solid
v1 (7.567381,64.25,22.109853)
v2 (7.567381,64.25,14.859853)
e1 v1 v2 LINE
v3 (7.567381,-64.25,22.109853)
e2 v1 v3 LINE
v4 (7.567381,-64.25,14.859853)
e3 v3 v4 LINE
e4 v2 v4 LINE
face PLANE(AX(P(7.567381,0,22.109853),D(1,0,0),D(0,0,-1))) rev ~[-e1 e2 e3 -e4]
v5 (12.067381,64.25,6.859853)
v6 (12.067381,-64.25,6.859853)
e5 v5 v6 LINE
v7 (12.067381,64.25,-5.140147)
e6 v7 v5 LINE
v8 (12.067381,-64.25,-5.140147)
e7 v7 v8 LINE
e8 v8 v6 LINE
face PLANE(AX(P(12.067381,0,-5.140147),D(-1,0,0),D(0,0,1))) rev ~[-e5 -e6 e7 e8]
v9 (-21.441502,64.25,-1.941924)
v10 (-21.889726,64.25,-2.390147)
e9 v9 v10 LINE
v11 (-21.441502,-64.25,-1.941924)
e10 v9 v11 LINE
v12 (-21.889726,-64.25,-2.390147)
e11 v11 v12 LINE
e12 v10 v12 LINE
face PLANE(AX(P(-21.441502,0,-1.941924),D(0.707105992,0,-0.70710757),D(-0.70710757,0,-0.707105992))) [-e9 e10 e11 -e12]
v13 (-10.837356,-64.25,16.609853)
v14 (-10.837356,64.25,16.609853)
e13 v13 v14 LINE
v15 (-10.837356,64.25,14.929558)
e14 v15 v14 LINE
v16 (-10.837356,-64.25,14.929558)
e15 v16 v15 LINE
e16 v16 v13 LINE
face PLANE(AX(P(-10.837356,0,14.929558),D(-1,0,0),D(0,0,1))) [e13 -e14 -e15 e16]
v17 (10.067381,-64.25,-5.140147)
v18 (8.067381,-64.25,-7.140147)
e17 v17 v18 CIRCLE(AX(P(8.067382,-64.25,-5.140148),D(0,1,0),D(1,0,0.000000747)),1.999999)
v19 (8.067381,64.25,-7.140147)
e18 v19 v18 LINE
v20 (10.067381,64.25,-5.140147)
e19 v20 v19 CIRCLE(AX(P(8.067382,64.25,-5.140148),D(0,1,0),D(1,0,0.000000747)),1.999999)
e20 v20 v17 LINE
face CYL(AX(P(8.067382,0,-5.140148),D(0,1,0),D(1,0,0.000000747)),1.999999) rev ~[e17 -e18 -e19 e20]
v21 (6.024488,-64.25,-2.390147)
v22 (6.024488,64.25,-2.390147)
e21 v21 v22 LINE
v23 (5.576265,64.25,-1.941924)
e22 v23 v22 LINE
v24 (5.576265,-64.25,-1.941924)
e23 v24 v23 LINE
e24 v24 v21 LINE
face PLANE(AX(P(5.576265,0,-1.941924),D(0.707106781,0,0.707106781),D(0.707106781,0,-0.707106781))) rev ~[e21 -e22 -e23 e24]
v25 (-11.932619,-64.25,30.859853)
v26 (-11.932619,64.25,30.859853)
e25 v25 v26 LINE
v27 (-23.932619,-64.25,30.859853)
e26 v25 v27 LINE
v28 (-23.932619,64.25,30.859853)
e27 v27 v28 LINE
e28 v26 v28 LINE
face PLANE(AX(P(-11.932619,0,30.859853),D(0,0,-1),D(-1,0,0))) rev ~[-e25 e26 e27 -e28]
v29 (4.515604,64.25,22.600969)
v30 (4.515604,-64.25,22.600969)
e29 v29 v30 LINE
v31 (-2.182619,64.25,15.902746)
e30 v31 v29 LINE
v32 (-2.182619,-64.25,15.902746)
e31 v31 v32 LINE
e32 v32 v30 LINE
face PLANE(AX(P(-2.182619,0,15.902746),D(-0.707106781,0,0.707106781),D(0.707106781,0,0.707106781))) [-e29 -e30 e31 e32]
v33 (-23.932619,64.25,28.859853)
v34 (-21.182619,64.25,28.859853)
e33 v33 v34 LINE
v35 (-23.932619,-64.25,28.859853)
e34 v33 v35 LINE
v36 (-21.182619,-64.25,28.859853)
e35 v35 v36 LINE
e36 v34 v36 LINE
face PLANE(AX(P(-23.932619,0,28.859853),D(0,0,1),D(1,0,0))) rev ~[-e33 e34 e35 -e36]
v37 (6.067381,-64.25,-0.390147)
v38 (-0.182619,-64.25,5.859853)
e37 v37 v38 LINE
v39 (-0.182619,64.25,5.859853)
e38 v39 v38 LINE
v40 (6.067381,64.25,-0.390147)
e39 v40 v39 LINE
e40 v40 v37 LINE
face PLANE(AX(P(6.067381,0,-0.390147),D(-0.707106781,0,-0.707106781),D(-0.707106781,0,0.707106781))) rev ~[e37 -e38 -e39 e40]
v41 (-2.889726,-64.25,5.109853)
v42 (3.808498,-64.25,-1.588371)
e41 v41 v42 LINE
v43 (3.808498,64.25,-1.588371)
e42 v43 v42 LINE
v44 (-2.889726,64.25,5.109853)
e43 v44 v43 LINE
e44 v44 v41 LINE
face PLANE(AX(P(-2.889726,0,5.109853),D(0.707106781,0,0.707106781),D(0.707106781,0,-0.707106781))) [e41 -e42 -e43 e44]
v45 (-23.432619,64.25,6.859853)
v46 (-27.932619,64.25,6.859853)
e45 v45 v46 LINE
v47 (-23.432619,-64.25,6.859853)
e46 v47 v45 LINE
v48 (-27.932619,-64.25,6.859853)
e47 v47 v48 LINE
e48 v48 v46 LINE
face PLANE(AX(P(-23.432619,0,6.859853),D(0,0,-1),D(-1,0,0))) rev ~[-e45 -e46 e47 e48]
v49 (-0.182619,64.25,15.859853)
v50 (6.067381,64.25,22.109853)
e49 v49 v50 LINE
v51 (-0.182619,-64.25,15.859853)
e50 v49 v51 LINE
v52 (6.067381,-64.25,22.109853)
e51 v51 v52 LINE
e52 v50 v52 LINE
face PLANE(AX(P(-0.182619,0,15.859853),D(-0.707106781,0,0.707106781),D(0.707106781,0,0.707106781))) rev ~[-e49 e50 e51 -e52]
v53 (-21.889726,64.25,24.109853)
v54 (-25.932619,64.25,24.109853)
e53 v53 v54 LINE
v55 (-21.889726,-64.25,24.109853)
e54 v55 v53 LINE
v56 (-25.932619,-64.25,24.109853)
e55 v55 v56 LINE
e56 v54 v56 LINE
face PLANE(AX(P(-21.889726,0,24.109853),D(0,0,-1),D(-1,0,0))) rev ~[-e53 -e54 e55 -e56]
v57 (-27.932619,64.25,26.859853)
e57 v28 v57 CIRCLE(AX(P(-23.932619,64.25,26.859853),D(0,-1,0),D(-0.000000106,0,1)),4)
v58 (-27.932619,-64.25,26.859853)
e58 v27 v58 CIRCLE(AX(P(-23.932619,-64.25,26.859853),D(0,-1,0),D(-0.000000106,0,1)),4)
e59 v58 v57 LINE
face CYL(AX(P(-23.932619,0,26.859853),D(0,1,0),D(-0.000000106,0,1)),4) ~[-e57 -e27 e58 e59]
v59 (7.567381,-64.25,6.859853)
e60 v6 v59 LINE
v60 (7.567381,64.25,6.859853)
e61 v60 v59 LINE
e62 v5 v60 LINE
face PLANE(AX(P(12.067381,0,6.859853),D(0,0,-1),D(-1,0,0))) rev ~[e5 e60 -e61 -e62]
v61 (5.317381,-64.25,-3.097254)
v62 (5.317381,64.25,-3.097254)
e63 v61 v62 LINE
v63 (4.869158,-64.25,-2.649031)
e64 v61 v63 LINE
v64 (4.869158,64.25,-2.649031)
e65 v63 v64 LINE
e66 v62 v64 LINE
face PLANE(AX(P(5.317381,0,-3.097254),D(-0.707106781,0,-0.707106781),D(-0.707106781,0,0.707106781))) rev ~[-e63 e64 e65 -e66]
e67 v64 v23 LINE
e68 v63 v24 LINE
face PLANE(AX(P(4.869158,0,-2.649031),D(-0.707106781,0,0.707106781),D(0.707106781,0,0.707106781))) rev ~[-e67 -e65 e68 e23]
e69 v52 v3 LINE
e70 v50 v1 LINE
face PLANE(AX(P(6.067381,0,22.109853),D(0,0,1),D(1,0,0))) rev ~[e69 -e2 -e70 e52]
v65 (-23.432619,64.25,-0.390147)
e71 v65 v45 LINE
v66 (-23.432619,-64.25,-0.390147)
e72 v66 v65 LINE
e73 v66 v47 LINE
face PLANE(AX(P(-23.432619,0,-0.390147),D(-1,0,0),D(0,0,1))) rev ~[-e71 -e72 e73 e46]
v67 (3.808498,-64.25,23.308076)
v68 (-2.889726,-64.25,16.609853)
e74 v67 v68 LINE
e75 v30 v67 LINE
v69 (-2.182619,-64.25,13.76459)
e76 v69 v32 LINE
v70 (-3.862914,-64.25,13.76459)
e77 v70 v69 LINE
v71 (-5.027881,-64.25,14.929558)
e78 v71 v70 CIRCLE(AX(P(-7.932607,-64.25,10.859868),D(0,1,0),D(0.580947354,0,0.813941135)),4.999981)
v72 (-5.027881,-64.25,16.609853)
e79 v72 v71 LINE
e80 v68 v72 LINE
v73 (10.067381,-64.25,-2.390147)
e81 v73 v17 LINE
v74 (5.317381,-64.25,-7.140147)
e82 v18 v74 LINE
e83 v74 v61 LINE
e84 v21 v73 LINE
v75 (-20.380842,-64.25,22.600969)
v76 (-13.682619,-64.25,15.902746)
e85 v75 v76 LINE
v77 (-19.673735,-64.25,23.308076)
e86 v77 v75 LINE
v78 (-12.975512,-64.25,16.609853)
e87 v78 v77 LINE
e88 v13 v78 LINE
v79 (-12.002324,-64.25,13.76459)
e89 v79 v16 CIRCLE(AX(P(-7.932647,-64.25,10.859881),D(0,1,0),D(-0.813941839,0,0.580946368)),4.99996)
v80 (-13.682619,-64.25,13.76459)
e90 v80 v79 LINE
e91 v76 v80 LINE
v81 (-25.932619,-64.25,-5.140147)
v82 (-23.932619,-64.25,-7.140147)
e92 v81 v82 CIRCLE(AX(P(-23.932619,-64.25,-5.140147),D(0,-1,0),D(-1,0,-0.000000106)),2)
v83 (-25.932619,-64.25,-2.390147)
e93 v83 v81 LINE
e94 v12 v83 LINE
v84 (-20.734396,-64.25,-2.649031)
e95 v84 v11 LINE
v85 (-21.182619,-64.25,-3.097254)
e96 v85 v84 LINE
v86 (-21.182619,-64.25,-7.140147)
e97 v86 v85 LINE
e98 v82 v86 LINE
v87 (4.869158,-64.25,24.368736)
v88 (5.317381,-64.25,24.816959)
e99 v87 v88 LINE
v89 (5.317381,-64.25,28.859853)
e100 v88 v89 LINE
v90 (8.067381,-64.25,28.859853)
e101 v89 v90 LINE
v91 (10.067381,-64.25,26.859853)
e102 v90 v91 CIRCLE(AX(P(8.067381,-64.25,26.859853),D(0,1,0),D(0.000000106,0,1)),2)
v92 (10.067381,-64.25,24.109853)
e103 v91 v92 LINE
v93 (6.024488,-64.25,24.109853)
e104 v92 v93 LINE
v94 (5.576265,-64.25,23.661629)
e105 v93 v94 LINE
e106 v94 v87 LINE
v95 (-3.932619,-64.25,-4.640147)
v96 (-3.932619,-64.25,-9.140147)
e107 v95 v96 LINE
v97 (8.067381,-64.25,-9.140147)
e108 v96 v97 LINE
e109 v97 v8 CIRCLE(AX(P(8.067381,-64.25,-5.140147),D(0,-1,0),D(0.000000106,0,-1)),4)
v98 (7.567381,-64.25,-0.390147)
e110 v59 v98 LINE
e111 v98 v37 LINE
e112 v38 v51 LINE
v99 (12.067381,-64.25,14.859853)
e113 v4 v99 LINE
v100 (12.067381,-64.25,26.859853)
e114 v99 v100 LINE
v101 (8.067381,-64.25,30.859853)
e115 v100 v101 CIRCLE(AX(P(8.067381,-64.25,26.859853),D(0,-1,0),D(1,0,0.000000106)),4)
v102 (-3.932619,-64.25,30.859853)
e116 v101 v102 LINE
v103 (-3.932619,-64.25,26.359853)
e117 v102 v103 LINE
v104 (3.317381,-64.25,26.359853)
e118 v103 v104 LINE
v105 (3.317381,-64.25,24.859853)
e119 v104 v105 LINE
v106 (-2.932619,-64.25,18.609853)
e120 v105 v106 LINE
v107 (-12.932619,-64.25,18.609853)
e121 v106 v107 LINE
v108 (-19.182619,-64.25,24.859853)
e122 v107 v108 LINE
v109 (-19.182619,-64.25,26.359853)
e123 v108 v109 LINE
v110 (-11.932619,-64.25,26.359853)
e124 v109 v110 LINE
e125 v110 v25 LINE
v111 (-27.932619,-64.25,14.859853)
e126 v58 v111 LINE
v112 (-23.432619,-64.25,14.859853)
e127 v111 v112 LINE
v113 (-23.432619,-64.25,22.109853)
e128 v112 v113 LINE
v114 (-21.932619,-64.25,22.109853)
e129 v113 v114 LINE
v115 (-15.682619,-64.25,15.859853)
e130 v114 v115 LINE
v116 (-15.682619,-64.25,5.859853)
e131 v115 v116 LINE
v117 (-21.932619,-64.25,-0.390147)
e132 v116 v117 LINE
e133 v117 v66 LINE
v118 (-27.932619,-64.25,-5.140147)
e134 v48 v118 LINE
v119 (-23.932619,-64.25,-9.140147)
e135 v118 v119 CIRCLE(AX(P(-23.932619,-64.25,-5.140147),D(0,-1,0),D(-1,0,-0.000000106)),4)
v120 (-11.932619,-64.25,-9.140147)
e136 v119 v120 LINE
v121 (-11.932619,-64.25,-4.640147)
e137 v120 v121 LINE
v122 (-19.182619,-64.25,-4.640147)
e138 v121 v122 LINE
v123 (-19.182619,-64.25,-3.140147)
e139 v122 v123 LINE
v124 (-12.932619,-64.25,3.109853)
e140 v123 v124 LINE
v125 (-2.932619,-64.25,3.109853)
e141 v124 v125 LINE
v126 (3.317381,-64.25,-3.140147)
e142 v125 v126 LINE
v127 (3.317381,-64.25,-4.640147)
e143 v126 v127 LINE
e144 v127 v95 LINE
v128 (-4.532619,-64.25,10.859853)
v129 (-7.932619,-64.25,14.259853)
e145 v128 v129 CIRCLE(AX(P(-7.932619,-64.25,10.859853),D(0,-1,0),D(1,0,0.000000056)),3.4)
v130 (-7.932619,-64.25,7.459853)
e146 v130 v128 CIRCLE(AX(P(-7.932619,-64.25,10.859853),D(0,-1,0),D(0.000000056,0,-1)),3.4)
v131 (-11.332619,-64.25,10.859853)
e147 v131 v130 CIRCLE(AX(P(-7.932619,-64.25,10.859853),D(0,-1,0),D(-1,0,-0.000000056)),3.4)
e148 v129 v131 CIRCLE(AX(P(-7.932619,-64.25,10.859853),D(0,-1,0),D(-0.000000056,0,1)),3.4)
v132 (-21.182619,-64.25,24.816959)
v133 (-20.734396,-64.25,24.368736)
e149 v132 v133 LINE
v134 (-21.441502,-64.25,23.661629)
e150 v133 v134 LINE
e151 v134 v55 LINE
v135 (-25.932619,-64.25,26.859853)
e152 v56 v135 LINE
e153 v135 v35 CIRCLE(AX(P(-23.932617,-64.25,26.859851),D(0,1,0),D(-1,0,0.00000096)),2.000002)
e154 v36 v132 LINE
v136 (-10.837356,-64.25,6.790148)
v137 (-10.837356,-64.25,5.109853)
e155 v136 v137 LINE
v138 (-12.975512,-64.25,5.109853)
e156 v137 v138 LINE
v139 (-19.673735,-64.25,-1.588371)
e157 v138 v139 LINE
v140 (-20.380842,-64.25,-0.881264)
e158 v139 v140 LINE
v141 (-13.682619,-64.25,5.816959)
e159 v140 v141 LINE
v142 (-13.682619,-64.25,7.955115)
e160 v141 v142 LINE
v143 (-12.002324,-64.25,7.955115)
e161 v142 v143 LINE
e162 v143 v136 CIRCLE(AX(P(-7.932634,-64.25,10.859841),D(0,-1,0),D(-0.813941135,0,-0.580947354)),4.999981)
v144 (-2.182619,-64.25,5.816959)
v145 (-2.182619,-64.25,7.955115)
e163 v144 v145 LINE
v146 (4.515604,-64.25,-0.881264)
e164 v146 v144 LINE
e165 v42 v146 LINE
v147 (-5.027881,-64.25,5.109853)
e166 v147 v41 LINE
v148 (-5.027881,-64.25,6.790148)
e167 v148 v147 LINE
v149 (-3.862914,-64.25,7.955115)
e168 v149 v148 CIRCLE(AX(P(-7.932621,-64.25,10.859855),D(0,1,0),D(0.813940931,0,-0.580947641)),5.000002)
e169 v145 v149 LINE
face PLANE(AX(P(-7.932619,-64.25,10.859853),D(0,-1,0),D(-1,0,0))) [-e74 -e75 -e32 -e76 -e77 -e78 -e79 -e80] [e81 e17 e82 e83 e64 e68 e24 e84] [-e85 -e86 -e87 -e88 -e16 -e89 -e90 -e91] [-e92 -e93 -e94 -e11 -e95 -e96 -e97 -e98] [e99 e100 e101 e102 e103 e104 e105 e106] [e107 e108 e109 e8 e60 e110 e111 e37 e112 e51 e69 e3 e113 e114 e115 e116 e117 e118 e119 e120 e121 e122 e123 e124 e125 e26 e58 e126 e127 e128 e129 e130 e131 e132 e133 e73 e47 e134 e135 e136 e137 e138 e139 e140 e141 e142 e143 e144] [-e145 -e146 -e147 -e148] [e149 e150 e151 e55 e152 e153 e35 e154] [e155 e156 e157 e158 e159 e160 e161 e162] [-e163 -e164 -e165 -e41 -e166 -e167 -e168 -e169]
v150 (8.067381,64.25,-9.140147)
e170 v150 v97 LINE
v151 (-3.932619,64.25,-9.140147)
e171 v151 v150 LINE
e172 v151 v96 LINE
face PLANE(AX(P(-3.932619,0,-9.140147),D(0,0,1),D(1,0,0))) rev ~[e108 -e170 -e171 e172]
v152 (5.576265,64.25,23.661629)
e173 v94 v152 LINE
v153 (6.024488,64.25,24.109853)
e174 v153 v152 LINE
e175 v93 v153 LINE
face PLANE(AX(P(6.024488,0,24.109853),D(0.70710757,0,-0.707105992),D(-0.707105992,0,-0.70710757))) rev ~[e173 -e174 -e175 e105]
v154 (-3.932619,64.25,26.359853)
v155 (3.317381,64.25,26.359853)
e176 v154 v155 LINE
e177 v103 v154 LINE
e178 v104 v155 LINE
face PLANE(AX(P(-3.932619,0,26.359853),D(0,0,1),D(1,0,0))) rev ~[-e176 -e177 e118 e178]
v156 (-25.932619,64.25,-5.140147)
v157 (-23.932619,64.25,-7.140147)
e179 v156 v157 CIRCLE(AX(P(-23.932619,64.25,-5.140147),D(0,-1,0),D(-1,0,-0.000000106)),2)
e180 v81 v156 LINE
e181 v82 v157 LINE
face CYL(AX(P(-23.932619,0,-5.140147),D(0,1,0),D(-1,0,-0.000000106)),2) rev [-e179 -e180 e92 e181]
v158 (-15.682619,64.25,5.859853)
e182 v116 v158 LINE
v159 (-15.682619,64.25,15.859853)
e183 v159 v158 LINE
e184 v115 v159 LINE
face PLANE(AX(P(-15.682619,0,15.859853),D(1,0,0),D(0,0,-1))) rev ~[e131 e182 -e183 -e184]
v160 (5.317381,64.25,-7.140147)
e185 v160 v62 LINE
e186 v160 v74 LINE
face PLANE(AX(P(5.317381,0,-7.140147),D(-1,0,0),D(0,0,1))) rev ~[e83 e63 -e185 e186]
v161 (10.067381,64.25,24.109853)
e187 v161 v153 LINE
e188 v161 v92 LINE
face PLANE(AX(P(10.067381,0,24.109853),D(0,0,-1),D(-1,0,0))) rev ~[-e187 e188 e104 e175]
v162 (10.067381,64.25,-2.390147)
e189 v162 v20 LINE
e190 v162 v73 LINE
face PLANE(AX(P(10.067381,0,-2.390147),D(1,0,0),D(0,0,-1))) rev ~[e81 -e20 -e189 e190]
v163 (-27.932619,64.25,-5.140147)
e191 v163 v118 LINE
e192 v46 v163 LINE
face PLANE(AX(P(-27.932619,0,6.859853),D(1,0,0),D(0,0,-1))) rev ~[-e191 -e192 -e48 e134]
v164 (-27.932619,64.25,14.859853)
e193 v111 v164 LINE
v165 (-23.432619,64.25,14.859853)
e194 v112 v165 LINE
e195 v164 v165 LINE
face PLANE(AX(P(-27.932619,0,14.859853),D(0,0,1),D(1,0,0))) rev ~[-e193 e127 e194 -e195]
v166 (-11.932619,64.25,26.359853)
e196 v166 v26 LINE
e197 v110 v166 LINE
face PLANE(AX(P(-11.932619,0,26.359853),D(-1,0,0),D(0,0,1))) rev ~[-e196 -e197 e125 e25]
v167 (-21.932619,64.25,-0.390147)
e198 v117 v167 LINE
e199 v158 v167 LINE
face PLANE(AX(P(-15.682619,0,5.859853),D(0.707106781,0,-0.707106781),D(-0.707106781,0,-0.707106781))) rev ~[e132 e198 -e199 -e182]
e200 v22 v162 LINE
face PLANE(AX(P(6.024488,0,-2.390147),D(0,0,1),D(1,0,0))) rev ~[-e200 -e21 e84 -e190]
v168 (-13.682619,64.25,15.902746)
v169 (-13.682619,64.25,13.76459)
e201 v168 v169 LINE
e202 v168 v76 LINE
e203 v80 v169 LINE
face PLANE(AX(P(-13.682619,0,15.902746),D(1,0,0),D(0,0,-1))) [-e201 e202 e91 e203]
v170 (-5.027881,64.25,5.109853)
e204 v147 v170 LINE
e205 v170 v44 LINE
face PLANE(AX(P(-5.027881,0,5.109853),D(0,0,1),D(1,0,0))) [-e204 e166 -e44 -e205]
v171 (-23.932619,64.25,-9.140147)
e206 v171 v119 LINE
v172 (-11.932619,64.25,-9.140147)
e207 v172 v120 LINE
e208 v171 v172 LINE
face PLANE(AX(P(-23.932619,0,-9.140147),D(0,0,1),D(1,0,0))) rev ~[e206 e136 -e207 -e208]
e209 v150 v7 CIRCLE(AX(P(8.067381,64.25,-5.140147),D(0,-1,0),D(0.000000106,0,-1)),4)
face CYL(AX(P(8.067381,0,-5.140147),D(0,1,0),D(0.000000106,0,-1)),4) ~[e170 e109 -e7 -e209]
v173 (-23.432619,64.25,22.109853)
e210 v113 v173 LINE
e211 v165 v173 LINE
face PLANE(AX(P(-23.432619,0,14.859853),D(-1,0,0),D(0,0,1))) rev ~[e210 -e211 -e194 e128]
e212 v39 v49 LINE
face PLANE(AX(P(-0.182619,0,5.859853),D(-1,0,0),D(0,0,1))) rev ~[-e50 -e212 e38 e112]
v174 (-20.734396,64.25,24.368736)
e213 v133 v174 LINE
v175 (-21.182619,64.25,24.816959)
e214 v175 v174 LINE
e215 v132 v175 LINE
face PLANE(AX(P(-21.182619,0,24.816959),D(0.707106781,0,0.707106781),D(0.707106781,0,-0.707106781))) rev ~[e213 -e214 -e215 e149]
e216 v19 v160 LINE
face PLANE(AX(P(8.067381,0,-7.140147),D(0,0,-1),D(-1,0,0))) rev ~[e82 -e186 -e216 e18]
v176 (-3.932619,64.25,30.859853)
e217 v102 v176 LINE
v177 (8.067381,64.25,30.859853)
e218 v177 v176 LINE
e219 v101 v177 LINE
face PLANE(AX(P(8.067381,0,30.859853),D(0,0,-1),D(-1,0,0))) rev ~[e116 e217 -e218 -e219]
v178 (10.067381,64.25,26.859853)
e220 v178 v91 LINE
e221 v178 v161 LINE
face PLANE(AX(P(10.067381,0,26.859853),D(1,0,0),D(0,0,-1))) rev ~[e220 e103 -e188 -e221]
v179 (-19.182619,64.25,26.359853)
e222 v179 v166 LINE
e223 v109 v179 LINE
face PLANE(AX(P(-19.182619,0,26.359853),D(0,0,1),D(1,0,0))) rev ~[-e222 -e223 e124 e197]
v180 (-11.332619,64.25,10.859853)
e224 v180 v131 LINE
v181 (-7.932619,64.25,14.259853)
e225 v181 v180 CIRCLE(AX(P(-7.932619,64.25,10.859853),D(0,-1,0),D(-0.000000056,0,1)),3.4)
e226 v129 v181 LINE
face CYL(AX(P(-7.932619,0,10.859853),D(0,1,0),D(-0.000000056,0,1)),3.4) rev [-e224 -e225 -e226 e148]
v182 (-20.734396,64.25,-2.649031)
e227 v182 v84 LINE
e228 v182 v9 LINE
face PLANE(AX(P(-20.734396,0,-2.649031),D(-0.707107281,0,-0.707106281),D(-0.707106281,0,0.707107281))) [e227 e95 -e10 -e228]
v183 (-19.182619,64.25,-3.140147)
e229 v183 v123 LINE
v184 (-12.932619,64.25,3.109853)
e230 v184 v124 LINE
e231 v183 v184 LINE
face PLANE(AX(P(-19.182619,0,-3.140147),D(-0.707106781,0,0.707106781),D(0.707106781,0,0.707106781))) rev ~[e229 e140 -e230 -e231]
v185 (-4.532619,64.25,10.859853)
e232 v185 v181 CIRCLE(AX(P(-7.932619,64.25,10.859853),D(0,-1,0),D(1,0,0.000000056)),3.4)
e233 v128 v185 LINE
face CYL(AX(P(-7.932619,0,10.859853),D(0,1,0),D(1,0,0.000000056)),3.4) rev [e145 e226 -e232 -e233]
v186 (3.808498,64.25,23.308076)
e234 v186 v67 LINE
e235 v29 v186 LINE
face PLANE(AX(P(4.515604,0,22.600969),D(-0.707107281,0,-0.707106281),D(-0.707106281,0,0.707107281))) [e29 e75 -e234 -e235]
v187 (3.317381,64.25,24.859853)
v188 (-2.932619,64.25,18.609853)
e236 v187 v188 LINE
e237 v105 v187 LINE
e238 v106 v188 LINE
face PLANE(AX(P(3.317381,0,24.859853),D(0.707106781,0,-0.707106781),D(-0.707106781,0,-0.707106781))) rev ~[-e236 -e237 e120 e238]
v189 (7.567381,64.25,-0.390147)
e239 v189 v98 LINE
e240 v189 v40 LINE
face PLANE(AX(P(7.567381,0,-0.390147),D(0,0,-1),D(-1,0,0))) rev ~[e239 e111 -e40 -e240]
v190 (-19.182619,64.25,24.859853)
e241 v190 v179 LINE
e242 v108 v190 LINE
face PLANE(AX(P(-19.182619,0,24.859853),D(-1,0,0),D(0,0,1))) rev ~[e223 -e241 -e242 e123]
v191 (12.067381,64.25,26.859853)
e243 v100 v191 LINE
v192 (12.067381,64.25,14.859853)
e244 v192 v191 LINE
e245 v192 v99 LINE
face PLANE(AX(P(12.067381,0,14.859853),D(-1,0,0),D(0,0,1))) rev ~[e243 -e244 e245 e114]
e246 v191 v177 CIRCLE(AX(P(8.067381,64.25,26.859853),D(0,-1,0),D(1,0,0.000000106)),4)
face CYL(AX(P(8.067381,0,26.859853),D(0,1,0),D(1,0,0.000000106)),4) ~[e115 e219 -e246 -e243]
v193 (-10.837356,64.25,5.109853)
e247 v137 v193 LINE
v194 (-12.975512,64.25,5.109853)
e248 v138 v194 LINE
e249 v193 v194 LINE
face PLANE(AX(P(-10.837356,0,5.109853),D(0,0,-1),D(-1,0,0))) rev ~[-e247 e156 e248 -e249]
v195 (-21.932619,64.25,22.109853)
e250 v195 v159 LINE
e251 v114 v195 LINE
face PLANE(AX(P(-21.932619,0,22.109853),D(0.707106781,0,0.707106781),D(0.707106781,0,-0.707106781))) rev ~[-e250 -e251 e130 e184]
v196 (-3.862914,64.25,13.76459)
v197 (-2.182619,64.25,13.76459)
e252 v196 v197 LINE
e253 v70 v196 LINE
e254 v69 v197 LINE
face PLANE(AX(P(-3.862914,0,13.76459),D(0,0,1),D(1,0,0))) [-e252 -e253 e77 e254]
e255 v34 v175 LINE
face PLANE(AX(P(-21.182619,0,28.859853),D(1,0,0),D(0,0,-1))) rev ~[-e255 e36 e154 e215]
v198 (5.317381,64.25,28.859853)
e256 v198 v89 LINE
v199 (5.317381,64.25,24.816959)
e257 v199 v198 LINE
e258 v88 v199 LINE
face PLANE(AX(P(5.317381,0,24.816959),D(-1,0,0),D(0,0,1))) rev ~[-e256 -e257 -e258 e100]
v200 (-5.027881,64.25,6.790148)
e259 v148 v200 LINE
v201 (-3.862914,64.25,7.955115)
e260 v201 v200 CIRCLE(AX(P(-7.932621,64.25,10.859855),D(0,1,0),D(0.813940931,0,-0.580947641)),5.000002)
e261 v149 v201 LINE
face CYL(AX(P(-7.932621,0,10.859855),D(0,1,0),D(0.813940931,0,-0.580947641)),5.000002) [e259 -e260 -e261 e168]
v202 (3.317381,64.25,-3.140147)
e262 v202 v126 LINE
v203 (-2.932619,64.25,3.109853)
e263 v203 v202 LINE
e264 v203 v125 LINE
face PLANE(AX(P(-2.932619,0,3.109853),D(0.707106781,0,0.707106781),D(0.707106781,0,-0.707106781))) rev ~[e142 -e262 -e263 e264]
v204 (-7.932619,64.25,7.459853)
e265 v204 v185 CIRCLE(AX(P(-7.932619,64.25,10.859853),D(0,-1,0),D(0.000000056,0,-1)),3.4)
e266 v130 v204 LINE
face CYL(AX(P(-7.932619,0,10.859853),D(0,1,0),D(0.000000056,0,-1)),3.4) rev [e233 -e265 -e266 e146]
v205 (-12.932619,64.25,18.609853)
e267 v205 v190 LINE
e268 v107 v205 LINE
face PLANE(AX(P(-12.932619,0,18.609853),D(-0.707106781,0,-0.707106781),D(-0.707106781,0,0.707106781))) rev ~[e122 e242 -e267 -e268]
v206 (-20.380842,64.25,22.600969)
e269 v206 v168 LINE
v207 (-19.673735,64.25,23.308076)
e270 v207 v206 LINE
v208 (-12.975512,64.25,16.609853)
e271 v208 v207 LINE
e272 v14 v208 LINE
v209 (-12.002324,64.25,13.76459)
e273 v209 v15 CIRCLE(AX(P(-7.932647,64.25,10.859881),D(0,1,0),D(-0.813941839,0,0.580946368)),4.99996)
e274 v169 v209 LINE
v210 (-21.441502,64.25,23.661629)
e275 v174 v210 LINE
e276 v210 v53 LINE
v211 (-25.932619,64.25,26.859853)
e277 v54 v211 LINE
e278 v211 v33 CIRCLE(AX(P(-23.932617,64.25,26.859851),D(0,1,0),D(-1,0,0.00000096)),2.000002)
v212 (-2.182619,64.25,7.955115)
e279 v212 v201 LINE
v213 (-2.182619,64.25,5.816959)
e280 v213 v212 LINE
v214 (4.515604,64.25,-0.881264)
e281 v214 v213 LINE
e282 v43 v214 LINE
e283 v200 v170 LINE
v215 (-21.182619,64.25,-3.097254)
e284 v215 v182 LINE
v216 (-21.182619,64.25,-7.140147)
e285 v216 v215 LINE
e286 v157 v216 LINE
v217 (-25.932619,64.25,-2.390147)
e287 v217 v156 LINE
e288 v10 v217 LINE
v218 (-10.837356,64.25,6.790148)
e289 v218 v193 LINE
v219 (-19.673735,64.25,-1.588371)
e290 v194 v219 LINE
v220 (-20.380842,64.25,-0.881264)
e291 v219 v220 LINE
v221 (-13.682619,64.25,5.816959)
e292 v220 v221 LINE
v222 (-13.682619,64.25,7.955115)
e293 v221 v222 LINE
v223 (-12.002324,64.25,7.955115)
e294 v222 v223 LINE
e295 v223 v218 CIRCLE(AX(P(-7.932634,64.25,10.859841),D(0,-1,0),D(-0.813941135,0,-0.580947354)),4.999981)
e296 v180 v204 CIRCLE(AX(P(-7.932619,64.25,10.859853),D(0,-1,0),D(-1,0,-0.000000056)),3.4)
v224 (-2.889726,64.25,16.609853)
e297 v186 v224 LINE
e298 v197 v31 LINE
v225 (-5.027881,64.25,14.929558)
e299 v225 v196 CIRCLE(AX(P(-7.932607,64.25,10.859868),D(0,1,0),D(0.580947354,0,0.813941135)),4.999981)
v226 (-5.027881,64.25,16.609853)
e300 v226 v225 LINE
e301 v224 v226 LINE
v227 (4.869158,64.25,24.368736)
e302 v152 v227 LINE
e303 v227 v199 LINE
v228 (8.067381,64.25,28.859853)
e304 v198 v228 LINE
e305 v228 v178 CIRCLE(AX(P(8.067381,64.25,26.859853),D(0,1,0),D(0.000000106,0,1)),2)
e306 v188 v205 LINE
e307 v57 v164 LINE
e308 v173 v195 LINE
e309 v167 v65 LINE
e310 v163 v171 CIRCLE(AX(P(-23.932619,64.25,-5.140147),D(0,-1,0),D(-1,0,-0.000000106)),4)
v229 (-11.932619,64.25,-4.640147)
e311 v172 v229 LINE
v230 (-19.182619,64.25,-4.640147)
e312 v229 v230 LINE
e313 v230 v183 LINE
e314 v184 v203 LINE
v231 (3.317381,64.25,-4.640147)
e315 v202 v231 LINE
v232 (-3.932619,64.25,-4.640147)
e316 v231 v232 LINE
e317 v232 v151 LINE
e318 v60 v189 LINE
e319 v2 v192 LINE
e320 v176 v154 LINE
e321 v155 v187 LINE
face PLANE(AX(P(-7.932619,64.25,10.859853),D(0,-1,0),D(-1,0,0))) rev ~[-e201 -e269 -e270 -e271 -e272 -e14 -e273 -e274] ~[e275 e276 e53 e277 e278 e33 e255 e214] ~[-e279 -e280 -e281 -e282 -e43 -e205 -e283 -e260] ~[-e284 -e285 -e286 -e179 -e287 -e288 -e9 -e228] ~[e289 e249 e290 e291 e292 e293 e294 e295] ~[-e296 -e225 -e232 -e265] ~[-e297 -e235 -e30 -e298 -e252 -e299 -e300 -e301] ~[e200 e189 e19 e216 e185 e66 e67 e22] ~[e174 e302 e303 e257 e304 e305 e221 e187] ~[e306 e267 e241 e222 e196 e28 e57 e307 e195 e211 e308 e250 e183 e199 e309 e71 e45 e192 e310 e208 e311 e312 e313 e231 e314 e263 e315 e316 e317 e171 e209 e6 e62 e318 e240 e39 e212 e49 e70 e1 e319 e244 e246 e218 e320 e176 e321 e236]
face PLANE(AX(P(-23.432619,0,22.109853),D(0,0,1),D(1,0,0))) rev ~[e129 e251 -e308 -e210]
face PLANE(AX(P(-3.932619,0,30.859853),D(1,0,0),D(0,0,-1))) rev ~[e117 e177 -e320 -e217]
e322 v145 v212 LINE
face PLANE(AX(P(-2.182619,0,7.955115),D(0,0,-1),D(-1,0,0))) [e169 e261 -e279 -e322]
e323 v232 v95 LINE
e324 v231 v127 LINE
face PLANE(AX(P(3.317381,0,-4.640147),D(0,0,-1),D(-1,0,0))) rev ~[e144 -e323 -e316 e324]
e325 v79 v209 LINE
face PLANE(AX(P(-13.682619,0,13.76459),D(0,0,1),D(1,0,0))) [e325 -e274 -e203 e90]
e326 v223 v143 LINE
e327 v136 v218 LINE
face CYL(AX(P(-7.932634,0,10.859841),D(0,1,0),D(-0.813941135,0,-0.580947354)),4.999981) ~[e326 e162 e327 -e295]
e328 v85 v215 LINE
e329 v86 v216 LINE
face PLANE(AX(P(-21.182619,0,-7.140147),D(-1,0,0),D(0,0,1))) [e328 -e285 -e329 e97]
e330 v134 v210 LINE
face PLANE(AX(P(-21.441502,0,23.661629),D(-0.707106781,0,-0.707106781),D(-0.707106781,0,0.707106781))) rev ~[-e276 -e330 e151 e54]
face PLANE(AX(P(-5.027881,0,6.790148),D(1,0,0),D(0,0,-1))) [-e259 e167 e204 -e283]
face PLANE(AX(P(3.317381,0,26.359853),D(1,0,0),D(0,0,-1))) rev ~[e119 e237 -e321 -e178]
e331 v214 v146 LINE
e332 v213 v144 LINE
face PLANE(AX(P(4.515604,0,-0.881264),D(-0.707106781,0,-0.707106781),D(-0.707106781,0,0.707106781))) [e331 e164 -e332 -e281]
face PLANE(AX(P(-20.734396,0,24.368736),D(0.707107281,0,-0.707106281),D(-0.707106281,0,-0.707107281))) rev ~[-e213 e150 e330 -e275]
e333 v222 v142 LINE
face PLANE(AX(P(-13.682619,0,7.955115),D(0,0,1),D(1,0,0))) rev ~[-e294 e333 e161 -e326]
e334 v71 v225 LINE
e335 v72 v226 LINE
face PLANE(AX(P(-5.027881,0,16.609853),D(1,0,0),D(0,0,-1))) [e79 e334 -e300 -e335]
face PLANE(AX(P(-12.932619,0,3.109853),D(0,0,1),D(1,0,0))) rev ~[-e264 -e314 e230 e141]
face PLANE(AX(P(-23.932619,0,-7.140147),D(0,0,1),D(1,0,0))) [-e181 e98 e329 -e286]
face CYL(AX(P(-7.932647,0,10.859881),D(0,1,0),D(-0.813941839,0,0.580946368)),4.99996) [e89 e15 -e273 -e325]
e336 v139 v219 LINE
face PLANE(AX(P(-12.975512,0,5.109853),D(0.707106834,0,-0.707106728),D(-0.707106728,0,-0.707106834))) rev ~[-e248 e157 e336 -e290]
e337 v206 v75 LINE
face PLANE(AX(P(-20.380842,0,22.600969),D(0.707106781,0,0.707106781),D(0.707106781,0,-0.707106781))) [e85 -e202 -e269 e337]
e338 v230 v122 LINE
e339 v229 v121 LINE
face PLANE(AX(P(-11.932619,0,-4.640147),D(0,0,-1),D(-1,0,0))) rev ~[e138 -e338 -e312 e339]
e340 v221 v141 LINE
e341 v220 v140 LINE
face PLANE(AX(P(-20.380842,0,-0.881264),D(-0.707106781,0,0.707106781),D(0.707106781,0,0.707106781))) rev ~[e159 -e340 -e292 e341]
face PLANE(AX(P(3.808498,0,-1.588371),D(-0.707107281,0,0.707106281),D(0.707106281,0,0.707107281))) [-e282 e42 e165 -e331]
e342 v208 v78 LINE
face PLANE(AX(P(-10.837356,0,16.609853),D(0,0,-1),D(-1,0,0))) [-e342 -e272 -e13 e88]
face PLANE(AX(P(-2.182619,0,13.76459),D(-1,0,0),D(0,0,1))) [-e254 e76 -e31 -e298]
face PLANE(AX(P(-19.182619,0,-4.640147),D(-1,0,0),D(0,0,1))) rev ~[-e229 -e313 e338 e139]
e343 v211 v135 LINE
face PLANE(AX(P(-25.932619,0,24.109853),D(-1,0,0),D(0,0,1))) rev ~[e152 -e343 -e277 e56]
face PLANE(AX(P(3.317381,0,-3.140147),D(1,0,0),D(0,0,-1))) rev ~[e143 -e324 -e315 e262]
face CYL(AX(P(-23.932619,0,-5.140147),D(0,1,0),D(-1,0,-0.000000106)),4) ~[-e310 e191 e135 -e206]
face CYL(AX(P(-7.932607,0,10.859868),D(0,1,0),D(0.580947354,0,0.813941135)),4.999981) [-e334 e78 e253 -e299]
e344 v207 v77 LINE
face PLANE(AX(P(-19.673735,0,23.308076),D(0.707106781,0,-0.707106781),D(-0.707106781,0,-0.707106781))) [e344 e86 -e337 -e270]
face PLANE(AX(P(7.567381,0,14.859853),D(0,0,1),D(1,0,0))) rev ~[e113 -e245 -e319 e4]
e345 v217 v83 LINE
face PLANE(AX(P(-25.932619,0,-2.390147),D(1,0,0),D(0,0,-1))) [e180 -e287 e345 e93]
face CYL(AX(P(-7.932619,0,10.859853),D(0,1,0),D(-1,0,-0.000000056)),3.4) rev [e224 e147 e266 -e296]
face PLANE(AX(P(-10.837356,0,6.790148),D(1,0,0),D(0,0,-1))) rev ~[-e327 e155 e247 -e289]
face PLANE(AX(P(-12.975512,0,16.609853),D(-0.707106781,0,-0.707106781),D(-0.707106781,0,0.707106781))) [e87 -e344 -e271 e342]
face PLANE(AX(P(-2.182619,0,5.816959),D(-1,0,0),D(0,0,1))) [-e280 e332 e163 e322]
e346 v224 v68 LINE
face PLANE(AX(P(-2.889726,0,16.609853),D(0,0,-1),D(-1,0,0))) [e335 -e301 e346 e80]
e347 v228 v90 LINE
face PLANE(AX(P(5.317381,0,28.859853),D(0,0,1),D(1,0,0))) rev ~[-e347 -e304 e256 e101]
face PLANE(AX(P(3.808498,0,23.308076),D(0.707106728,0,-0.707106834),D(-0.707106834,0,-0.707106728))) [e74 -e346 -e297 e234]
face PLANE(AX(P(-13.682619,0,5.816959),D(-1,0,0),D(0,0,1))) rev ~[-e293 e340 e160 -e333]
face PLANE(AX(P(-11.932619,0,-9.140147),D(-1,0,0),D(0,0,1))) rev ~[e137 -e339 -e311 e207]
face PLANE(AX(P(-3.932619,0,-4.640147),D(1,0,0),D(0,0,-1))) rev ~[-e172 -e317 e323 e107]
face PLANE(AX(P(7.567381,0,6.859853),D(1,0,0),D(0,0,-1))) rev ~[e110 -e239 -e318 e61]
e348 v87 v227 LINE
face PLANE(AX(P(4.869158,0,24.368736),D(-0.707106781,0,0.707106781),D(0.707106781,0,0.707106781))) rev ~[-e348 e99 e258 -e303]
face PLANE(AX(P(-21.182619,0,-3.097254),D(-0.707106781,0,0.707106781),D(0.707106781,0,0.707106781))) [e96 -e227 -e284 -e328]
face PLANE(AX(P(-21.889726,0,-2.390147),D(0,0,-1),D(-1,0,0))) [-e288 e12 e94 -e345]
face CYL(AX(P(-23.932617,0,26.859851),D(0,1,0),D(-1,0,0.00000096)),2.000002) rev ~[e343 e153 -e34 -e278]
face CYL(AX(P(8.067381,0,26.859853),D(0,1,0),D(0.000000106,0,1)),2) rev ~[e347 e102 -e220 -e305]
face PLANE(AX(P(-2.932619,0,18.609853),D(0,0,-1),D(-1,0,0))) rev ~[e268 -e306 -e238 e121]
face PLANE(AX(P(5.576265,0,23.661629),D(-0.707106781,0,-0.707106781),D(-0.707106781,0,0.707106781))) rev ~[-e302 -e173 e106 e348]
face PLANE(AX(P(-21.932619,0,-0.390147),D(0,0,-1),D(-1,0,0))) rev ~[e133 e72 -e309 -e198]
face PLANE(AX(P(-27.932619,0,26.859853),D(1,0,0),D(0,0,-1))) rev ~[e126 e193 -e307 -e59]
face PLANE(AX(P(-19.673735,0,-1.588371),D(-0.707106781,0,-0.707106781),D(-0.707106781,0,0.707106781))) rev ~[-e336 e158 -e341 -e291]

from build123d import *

# Parameters (mm, degrees)
BOSS_EXTRUDE1_DEPTH = 64.25


with BuildPart() as part:
    # Sketch1 → Boss-Extrude1 (new body, symmetric)
    with BuildSketch(Plane(origin=(0, 0, 0), x_dir=(1, 0, 0), z_dir=(0, 1, 0))):
        with BuildLine():
            Line((-27.932619, -6.859853), (-27.932619, 5.140147))
            ThreePointArc((-27.932619, 5.140147), (-26.761046, 7.968574), (-23.932619, 9.140147))
            Line((-23.932619, 9.140147), (-11.932619, 9.140147))
            Line((-11.932619, 9.140147), (-11.932619, 4.640147))
            Line((-11.932619, 4.640147), (-19.182619, 4.640147))
            Line((-19.182619, 4.640147), (-19.182619, 3.140147))
            Line((-19.182619, 3.140147), (-12.932619, -3.109853))
            Line((-12.932619, -3.109853), (-7.932619, -3.109853))
            Line((-7.932619, -3.109853), (-2.932619, -3.109853))
            Line((-2.932619, -3.109853), (3.317381, 3.140147))
            Line((3.317381, 3.140147), (3.317381, 4.640147))
            Line((3.317381, 4.640147), (-3.932619, 4.640147))
            Line((-3.932619, 4.640147), (-3.932619, 9.140147))
            Line((-3.932619, 9.140147), (8.067381, 9.140147))
            ThreePointArc((8.067381, 9.140147), (10.895808, 7.968574), (12.067381, 5.140147))
            Line((12.067381, 5.140147), (12.067381, -6.859853))
            Line((12.067381, -6.859853), (7.567381, -6.859853))
            Line((7.567381, -6.859853), (7.567381, 0.390147))
            Line((7.567381, 0.390147), (6.067381, 0.390147))
            Line((6.067381, 0.390147), (-0.182619, -5.859853))
            Line((-0.182619, -5.859853), (-0.182619, -10.859853))
            Line((-0.182619, -10.859853), (-0.182619, -15.859853))
            Line((-0.182619, -15.859853), (6.067381, -22.109853))
            Line((6.067381, -22.109853), (7.567381, -22.109853))
            Line((7.567381, -22.109853), (7.567381, -14.859853))
            Line((7.567381, -14.859853), (12.067381, -14.859853))
            Line((12.067381, -14.859853), (12.067381, -26.859853))
            ThreePointArc((12.067381, -26.859853), (10.895808, -29.68828), (8.067381, -30.859853))
            Line((8.067381, -30.859853), (-3.932619, -30.859853))
            Line((-3.932619, -30.859853), (-3.932619, -26.359853))
            Line((-3.932619, -26.359853), (3.317381, -26.359853))
            Line((3.317381, -26.359853), (3.317381, -24.859853))
            Line((3.317381, -24.859853), (-2.932619, -18.609853))
            Line((-2.932619, -18.609853), (-7.932619, -18.609853))
            Line((-7.932619, -18.609853), (-12.932619, -18.609853))
            Line((-12.932619, -18.609853), (-19.182619, -24.859853))
            Line((-19.182619, -24.859853), (-19.182619, -26.359853))
            Line((-19.182619, -26.359853), (-11.932619, -26.359853))
            Line((-11.932619, -26.359853), (-11.932619, -30.859853))
            Line((-11.932619, -30.859853), (-23.932619, -30.859853))
            ThreePointArc((-23.932619, -30.859853), (-26.761046, -29.68828), (-27.932619, -26.859853))
            Line((-27.932619, -26.859853), (-27.932619, -14.859853))
            Line((-27.932619, -14.859853), (-23.432619, -14.859853))
            Line((-23.432619, -14.859853), (-23.432619, -22.109853))
            Line((-23.432619, -22.109853), (-21.932619, -22.109853))
            Line((-21.932619, -22.109853), (-15.682619, -15.859853))
            Line((-15.682619, -15.859853), (-15.682619, -10.859853))
            Line((-15.682619, -10.859853), (-15.682619, -5.859853))
            Line((-15.682619, -5.859853), (-21.932619, 0.390147))
            Line((-21.932619, 0.390147), (-23.432619, 0.390147))
            Line((-23.432619, 0.390147), (-23.432619, -6.859853))
            Line((-23.432619, -6.859853), (-27.932619, -6.859853))
        make_face()
        with BuildLine():
            Line((-25.932619, 2.390147), (-25.932619, 5.140147))
            ThreePointArc((-25.932619, 5.140147), (-25.346832, 6.554361), (-23.932619, 7.140147))
            Line((-23.932619, 7.140147), (-21.182619, 7.140147))
            Line((-21.182619, 7.140147), (-21.182619, 3.097254))
            Line((-21.182619, 3.097254), (-20.734396, 2.649031))
            Line((-20.734396, 2.649031), (-21.441502, 1.941924))
            Line((-21.441502, 1.941924), (-21.889726, 2.390147))
            Line((-21.889726, 2.390147), (-25.932619, 2.390147))
        make_face(mode=Mode.SUBTRACT)
        with BuildLine():
            Line((-20.380842, 0.881264), (-13.682619, -5.816959))
            Line((-13.682619, -5.816959), (-13.682619, -7.955115))
            Line((-13.682619, -7.955115), (-13.182619, -7.955115))
            Line((-13.182619, -7.955115), (-12.002324, -7.955115))
            ThreePointArc((-12.002324, -7.955115), (-11.468153, -7.324319), (-10.837356, -6.790148))
            Line((-10.837356, -6.790148), (-10.837356, -5.609853))
            Line((-10.837356, -5.609853), (-10.837356, -5.109853))
            Line((-10.837356, -5.109853), (-12.975512, -5.109853))
            Line((-12.975512, -5.109853), (-19.673735, 1.588371))
            Line((-19.673735, 1.588371), (-20.380842, 0.881264))
        make_face(mode=Mode.SUBTRACT)
        with BuildLine():
            Line((10.067381, 2.390147), (10.067381, 5.140147))
            ThreePointArc((10.067381, 5.140147), (9.481595, 6.554361), (8.067381, 7.140147))
            Line((8.067381, 7.140147), (5.317381, 7.140147))
            Line((5.317381, 7.140147), (5.317381, 3.097254))
            Line((5.317381, 3.097254), (4.869158, 2.649031))
            Line((4.869158, 2.649031), (5.576265, 1.941924))
            Line((5.576265, 1.941924), (6.024488, 2.390147))
            Line((6.024488, 2.390147), (10.067381, 2.390147))
        make_face(mode=Mode.SUBTRACT)
        with BuildLine():
            Line((-2.182619, -5.816959), (-2.182619, -7.955115))
            Line((-2.182619, -7.955115), (-2.682619, -7.955115))
            Line((-2.682619, -7.955115), (-3.862914, -7.955115))
            ThreePointArc((-3.862914, -7.955115), (-4.397085, -7.324319), (-5.027881, -6.790148))
            Line((-5.027881, -6.790148), (-5.027881, -5.609853))
            Line((-5.027881, -5.609853), (-5.027881, -5.109853))
            Line((-5.027881, -5.109853), (-2.889726, -5.109853))
            Line((-2.889726, -5.109853), (3.808498, 1.588371))
            Line((3.808498, 1.588371), (4.515604, 0.881264))
            Line((4.515604, 0.881264), (-2.182619, -5.816959))
        make_face(mode=Mode.SUBTRACT)
        with BuildLine():
            Line((5.317381, -28.859853), (8.067381, -28.859853))
            ThreePointArc((8.067381, -28.859853), (9.481595, -28.274066), (10.067381, -26.859853))
            Line((10.067381, -26.859853), (10.067381, -24.109853))
            Line((10.067381, -24.109853), (6.024488, -24.109853))
            Line((6.024488, -24.109853), (5.576265, -23.661629))
            Line((5.576265, -23.661629), (4.869158, -24.368736))
            Line((4.869158, -24.368736), (5.317381, -24.816959))
            Line((5.317381, -24.816959), (5.317381, -28.859853))
        make_face(mode=Mode.SUBTRACT)
        with BuildLine():
            Line((-2.889726, -16.609853), (-5.027881, -16.609853))
            Line((-5.027881, -16.609853), (-5.027881, -16.109853))
            Line((-5.027881, -16.109853), (-5.027881, -14.929558))
            ThreePointArc((-5.027881, -14.929558), (-4.397085, -14.395387), (-3.862914, -13.76459))
            Line((-3.862914, -13.76459), (-2.682619, -13.76459))
            Line((-2.682619, -13.76459), (-2.182619, -13.76459))
            Line((-2.182619, -13.76459), (-2.182619, -15.902746))
            Line((-2.182619, -15.902746), (4.515604, -22.600969))
            Line((4.515604, -22.600969), (3.808498, -23.308076))
            Line((3.808498, -23.308076), (-2.889726, -16.609853))
        make_face(mode=Mode.SUBTRACT)
        with BuildLine():
            Line((-25.932619, -24.109853), (-25.932619, -26.859853))
            ThreePointArc((-25.932619, -26.859853), (-25.346832, -28.274066), (-23.932619, -28.859853))
            Line((-23.932619, -28.859853), (-21.182619, -28.859853))
            Line((-21.182619, -28.859853), (-21.182619, -24.816959))
            Line((-21.182619, -24.816959), (-20.734396, -24.368736))
            Line((-20.734396, -24.368736), (-21.441502, -23.661629))
            Line((-21.441502, -23.661629), (-21.889726, -24.109853))
            Line((-21.889726, -24.109853), (-25.932619, -24.109853))
        make_face(mode=Mode.SUBTRACT)
        with BuildLine():
            Line((-13.682619, -15.902746), (-13.682619, -13.76459))
            Line((-13.682619, -13.76459), (-13.182619, -13.76459))
            Line((-13.182619, -13.76459), (-12.002324, -13.76459))
            ThreePointArc((-12.002324, -13.76459), (-11.468153, -14.395387), (-10.837356, -14.929558))
            Line((-10.837356, -14.929558), (-10.837356, -16.109853))
            Line((-10.837356, -16.109853), (-10.837356, -16.609853))
            Line((-10.837356, -16.609853), (-12.975512, -16.609853))
            Line((-12.975512, -16.609853), (-19.673735, -23.308076))
            Line((-19.673735, -23.308076), (-20.380842, -22.600969))
            Line((-20.380842, -22.600969), (-13.682619, -15.902746))
        make_face(mode=Mode.SUBTRACT)
        with BuildLine():
            ThreePointArc((-11.332619, -10.859853), (-10.336782, -8.45569), (-7.932619, -7.459853))
            ThreePointArc((-7.932619, -7.459853), (-5.528456, -8.45569), (-4.532619, -10.859853))
            ThreePointArc((-4.532619, -10.859853), (-5.528456, -13.264016), (-7.932619, -14.259853))
            ThreePointArc((-7.932619, -14.259853), (-10.336782, -13.264016), (-11.332619, -10.859853))
        make_face(mode=Mode.SUBTRACT)
    extrude(amount=BOSS_EXTRUDE1_DEPTH, both=True)


solid = part.part
